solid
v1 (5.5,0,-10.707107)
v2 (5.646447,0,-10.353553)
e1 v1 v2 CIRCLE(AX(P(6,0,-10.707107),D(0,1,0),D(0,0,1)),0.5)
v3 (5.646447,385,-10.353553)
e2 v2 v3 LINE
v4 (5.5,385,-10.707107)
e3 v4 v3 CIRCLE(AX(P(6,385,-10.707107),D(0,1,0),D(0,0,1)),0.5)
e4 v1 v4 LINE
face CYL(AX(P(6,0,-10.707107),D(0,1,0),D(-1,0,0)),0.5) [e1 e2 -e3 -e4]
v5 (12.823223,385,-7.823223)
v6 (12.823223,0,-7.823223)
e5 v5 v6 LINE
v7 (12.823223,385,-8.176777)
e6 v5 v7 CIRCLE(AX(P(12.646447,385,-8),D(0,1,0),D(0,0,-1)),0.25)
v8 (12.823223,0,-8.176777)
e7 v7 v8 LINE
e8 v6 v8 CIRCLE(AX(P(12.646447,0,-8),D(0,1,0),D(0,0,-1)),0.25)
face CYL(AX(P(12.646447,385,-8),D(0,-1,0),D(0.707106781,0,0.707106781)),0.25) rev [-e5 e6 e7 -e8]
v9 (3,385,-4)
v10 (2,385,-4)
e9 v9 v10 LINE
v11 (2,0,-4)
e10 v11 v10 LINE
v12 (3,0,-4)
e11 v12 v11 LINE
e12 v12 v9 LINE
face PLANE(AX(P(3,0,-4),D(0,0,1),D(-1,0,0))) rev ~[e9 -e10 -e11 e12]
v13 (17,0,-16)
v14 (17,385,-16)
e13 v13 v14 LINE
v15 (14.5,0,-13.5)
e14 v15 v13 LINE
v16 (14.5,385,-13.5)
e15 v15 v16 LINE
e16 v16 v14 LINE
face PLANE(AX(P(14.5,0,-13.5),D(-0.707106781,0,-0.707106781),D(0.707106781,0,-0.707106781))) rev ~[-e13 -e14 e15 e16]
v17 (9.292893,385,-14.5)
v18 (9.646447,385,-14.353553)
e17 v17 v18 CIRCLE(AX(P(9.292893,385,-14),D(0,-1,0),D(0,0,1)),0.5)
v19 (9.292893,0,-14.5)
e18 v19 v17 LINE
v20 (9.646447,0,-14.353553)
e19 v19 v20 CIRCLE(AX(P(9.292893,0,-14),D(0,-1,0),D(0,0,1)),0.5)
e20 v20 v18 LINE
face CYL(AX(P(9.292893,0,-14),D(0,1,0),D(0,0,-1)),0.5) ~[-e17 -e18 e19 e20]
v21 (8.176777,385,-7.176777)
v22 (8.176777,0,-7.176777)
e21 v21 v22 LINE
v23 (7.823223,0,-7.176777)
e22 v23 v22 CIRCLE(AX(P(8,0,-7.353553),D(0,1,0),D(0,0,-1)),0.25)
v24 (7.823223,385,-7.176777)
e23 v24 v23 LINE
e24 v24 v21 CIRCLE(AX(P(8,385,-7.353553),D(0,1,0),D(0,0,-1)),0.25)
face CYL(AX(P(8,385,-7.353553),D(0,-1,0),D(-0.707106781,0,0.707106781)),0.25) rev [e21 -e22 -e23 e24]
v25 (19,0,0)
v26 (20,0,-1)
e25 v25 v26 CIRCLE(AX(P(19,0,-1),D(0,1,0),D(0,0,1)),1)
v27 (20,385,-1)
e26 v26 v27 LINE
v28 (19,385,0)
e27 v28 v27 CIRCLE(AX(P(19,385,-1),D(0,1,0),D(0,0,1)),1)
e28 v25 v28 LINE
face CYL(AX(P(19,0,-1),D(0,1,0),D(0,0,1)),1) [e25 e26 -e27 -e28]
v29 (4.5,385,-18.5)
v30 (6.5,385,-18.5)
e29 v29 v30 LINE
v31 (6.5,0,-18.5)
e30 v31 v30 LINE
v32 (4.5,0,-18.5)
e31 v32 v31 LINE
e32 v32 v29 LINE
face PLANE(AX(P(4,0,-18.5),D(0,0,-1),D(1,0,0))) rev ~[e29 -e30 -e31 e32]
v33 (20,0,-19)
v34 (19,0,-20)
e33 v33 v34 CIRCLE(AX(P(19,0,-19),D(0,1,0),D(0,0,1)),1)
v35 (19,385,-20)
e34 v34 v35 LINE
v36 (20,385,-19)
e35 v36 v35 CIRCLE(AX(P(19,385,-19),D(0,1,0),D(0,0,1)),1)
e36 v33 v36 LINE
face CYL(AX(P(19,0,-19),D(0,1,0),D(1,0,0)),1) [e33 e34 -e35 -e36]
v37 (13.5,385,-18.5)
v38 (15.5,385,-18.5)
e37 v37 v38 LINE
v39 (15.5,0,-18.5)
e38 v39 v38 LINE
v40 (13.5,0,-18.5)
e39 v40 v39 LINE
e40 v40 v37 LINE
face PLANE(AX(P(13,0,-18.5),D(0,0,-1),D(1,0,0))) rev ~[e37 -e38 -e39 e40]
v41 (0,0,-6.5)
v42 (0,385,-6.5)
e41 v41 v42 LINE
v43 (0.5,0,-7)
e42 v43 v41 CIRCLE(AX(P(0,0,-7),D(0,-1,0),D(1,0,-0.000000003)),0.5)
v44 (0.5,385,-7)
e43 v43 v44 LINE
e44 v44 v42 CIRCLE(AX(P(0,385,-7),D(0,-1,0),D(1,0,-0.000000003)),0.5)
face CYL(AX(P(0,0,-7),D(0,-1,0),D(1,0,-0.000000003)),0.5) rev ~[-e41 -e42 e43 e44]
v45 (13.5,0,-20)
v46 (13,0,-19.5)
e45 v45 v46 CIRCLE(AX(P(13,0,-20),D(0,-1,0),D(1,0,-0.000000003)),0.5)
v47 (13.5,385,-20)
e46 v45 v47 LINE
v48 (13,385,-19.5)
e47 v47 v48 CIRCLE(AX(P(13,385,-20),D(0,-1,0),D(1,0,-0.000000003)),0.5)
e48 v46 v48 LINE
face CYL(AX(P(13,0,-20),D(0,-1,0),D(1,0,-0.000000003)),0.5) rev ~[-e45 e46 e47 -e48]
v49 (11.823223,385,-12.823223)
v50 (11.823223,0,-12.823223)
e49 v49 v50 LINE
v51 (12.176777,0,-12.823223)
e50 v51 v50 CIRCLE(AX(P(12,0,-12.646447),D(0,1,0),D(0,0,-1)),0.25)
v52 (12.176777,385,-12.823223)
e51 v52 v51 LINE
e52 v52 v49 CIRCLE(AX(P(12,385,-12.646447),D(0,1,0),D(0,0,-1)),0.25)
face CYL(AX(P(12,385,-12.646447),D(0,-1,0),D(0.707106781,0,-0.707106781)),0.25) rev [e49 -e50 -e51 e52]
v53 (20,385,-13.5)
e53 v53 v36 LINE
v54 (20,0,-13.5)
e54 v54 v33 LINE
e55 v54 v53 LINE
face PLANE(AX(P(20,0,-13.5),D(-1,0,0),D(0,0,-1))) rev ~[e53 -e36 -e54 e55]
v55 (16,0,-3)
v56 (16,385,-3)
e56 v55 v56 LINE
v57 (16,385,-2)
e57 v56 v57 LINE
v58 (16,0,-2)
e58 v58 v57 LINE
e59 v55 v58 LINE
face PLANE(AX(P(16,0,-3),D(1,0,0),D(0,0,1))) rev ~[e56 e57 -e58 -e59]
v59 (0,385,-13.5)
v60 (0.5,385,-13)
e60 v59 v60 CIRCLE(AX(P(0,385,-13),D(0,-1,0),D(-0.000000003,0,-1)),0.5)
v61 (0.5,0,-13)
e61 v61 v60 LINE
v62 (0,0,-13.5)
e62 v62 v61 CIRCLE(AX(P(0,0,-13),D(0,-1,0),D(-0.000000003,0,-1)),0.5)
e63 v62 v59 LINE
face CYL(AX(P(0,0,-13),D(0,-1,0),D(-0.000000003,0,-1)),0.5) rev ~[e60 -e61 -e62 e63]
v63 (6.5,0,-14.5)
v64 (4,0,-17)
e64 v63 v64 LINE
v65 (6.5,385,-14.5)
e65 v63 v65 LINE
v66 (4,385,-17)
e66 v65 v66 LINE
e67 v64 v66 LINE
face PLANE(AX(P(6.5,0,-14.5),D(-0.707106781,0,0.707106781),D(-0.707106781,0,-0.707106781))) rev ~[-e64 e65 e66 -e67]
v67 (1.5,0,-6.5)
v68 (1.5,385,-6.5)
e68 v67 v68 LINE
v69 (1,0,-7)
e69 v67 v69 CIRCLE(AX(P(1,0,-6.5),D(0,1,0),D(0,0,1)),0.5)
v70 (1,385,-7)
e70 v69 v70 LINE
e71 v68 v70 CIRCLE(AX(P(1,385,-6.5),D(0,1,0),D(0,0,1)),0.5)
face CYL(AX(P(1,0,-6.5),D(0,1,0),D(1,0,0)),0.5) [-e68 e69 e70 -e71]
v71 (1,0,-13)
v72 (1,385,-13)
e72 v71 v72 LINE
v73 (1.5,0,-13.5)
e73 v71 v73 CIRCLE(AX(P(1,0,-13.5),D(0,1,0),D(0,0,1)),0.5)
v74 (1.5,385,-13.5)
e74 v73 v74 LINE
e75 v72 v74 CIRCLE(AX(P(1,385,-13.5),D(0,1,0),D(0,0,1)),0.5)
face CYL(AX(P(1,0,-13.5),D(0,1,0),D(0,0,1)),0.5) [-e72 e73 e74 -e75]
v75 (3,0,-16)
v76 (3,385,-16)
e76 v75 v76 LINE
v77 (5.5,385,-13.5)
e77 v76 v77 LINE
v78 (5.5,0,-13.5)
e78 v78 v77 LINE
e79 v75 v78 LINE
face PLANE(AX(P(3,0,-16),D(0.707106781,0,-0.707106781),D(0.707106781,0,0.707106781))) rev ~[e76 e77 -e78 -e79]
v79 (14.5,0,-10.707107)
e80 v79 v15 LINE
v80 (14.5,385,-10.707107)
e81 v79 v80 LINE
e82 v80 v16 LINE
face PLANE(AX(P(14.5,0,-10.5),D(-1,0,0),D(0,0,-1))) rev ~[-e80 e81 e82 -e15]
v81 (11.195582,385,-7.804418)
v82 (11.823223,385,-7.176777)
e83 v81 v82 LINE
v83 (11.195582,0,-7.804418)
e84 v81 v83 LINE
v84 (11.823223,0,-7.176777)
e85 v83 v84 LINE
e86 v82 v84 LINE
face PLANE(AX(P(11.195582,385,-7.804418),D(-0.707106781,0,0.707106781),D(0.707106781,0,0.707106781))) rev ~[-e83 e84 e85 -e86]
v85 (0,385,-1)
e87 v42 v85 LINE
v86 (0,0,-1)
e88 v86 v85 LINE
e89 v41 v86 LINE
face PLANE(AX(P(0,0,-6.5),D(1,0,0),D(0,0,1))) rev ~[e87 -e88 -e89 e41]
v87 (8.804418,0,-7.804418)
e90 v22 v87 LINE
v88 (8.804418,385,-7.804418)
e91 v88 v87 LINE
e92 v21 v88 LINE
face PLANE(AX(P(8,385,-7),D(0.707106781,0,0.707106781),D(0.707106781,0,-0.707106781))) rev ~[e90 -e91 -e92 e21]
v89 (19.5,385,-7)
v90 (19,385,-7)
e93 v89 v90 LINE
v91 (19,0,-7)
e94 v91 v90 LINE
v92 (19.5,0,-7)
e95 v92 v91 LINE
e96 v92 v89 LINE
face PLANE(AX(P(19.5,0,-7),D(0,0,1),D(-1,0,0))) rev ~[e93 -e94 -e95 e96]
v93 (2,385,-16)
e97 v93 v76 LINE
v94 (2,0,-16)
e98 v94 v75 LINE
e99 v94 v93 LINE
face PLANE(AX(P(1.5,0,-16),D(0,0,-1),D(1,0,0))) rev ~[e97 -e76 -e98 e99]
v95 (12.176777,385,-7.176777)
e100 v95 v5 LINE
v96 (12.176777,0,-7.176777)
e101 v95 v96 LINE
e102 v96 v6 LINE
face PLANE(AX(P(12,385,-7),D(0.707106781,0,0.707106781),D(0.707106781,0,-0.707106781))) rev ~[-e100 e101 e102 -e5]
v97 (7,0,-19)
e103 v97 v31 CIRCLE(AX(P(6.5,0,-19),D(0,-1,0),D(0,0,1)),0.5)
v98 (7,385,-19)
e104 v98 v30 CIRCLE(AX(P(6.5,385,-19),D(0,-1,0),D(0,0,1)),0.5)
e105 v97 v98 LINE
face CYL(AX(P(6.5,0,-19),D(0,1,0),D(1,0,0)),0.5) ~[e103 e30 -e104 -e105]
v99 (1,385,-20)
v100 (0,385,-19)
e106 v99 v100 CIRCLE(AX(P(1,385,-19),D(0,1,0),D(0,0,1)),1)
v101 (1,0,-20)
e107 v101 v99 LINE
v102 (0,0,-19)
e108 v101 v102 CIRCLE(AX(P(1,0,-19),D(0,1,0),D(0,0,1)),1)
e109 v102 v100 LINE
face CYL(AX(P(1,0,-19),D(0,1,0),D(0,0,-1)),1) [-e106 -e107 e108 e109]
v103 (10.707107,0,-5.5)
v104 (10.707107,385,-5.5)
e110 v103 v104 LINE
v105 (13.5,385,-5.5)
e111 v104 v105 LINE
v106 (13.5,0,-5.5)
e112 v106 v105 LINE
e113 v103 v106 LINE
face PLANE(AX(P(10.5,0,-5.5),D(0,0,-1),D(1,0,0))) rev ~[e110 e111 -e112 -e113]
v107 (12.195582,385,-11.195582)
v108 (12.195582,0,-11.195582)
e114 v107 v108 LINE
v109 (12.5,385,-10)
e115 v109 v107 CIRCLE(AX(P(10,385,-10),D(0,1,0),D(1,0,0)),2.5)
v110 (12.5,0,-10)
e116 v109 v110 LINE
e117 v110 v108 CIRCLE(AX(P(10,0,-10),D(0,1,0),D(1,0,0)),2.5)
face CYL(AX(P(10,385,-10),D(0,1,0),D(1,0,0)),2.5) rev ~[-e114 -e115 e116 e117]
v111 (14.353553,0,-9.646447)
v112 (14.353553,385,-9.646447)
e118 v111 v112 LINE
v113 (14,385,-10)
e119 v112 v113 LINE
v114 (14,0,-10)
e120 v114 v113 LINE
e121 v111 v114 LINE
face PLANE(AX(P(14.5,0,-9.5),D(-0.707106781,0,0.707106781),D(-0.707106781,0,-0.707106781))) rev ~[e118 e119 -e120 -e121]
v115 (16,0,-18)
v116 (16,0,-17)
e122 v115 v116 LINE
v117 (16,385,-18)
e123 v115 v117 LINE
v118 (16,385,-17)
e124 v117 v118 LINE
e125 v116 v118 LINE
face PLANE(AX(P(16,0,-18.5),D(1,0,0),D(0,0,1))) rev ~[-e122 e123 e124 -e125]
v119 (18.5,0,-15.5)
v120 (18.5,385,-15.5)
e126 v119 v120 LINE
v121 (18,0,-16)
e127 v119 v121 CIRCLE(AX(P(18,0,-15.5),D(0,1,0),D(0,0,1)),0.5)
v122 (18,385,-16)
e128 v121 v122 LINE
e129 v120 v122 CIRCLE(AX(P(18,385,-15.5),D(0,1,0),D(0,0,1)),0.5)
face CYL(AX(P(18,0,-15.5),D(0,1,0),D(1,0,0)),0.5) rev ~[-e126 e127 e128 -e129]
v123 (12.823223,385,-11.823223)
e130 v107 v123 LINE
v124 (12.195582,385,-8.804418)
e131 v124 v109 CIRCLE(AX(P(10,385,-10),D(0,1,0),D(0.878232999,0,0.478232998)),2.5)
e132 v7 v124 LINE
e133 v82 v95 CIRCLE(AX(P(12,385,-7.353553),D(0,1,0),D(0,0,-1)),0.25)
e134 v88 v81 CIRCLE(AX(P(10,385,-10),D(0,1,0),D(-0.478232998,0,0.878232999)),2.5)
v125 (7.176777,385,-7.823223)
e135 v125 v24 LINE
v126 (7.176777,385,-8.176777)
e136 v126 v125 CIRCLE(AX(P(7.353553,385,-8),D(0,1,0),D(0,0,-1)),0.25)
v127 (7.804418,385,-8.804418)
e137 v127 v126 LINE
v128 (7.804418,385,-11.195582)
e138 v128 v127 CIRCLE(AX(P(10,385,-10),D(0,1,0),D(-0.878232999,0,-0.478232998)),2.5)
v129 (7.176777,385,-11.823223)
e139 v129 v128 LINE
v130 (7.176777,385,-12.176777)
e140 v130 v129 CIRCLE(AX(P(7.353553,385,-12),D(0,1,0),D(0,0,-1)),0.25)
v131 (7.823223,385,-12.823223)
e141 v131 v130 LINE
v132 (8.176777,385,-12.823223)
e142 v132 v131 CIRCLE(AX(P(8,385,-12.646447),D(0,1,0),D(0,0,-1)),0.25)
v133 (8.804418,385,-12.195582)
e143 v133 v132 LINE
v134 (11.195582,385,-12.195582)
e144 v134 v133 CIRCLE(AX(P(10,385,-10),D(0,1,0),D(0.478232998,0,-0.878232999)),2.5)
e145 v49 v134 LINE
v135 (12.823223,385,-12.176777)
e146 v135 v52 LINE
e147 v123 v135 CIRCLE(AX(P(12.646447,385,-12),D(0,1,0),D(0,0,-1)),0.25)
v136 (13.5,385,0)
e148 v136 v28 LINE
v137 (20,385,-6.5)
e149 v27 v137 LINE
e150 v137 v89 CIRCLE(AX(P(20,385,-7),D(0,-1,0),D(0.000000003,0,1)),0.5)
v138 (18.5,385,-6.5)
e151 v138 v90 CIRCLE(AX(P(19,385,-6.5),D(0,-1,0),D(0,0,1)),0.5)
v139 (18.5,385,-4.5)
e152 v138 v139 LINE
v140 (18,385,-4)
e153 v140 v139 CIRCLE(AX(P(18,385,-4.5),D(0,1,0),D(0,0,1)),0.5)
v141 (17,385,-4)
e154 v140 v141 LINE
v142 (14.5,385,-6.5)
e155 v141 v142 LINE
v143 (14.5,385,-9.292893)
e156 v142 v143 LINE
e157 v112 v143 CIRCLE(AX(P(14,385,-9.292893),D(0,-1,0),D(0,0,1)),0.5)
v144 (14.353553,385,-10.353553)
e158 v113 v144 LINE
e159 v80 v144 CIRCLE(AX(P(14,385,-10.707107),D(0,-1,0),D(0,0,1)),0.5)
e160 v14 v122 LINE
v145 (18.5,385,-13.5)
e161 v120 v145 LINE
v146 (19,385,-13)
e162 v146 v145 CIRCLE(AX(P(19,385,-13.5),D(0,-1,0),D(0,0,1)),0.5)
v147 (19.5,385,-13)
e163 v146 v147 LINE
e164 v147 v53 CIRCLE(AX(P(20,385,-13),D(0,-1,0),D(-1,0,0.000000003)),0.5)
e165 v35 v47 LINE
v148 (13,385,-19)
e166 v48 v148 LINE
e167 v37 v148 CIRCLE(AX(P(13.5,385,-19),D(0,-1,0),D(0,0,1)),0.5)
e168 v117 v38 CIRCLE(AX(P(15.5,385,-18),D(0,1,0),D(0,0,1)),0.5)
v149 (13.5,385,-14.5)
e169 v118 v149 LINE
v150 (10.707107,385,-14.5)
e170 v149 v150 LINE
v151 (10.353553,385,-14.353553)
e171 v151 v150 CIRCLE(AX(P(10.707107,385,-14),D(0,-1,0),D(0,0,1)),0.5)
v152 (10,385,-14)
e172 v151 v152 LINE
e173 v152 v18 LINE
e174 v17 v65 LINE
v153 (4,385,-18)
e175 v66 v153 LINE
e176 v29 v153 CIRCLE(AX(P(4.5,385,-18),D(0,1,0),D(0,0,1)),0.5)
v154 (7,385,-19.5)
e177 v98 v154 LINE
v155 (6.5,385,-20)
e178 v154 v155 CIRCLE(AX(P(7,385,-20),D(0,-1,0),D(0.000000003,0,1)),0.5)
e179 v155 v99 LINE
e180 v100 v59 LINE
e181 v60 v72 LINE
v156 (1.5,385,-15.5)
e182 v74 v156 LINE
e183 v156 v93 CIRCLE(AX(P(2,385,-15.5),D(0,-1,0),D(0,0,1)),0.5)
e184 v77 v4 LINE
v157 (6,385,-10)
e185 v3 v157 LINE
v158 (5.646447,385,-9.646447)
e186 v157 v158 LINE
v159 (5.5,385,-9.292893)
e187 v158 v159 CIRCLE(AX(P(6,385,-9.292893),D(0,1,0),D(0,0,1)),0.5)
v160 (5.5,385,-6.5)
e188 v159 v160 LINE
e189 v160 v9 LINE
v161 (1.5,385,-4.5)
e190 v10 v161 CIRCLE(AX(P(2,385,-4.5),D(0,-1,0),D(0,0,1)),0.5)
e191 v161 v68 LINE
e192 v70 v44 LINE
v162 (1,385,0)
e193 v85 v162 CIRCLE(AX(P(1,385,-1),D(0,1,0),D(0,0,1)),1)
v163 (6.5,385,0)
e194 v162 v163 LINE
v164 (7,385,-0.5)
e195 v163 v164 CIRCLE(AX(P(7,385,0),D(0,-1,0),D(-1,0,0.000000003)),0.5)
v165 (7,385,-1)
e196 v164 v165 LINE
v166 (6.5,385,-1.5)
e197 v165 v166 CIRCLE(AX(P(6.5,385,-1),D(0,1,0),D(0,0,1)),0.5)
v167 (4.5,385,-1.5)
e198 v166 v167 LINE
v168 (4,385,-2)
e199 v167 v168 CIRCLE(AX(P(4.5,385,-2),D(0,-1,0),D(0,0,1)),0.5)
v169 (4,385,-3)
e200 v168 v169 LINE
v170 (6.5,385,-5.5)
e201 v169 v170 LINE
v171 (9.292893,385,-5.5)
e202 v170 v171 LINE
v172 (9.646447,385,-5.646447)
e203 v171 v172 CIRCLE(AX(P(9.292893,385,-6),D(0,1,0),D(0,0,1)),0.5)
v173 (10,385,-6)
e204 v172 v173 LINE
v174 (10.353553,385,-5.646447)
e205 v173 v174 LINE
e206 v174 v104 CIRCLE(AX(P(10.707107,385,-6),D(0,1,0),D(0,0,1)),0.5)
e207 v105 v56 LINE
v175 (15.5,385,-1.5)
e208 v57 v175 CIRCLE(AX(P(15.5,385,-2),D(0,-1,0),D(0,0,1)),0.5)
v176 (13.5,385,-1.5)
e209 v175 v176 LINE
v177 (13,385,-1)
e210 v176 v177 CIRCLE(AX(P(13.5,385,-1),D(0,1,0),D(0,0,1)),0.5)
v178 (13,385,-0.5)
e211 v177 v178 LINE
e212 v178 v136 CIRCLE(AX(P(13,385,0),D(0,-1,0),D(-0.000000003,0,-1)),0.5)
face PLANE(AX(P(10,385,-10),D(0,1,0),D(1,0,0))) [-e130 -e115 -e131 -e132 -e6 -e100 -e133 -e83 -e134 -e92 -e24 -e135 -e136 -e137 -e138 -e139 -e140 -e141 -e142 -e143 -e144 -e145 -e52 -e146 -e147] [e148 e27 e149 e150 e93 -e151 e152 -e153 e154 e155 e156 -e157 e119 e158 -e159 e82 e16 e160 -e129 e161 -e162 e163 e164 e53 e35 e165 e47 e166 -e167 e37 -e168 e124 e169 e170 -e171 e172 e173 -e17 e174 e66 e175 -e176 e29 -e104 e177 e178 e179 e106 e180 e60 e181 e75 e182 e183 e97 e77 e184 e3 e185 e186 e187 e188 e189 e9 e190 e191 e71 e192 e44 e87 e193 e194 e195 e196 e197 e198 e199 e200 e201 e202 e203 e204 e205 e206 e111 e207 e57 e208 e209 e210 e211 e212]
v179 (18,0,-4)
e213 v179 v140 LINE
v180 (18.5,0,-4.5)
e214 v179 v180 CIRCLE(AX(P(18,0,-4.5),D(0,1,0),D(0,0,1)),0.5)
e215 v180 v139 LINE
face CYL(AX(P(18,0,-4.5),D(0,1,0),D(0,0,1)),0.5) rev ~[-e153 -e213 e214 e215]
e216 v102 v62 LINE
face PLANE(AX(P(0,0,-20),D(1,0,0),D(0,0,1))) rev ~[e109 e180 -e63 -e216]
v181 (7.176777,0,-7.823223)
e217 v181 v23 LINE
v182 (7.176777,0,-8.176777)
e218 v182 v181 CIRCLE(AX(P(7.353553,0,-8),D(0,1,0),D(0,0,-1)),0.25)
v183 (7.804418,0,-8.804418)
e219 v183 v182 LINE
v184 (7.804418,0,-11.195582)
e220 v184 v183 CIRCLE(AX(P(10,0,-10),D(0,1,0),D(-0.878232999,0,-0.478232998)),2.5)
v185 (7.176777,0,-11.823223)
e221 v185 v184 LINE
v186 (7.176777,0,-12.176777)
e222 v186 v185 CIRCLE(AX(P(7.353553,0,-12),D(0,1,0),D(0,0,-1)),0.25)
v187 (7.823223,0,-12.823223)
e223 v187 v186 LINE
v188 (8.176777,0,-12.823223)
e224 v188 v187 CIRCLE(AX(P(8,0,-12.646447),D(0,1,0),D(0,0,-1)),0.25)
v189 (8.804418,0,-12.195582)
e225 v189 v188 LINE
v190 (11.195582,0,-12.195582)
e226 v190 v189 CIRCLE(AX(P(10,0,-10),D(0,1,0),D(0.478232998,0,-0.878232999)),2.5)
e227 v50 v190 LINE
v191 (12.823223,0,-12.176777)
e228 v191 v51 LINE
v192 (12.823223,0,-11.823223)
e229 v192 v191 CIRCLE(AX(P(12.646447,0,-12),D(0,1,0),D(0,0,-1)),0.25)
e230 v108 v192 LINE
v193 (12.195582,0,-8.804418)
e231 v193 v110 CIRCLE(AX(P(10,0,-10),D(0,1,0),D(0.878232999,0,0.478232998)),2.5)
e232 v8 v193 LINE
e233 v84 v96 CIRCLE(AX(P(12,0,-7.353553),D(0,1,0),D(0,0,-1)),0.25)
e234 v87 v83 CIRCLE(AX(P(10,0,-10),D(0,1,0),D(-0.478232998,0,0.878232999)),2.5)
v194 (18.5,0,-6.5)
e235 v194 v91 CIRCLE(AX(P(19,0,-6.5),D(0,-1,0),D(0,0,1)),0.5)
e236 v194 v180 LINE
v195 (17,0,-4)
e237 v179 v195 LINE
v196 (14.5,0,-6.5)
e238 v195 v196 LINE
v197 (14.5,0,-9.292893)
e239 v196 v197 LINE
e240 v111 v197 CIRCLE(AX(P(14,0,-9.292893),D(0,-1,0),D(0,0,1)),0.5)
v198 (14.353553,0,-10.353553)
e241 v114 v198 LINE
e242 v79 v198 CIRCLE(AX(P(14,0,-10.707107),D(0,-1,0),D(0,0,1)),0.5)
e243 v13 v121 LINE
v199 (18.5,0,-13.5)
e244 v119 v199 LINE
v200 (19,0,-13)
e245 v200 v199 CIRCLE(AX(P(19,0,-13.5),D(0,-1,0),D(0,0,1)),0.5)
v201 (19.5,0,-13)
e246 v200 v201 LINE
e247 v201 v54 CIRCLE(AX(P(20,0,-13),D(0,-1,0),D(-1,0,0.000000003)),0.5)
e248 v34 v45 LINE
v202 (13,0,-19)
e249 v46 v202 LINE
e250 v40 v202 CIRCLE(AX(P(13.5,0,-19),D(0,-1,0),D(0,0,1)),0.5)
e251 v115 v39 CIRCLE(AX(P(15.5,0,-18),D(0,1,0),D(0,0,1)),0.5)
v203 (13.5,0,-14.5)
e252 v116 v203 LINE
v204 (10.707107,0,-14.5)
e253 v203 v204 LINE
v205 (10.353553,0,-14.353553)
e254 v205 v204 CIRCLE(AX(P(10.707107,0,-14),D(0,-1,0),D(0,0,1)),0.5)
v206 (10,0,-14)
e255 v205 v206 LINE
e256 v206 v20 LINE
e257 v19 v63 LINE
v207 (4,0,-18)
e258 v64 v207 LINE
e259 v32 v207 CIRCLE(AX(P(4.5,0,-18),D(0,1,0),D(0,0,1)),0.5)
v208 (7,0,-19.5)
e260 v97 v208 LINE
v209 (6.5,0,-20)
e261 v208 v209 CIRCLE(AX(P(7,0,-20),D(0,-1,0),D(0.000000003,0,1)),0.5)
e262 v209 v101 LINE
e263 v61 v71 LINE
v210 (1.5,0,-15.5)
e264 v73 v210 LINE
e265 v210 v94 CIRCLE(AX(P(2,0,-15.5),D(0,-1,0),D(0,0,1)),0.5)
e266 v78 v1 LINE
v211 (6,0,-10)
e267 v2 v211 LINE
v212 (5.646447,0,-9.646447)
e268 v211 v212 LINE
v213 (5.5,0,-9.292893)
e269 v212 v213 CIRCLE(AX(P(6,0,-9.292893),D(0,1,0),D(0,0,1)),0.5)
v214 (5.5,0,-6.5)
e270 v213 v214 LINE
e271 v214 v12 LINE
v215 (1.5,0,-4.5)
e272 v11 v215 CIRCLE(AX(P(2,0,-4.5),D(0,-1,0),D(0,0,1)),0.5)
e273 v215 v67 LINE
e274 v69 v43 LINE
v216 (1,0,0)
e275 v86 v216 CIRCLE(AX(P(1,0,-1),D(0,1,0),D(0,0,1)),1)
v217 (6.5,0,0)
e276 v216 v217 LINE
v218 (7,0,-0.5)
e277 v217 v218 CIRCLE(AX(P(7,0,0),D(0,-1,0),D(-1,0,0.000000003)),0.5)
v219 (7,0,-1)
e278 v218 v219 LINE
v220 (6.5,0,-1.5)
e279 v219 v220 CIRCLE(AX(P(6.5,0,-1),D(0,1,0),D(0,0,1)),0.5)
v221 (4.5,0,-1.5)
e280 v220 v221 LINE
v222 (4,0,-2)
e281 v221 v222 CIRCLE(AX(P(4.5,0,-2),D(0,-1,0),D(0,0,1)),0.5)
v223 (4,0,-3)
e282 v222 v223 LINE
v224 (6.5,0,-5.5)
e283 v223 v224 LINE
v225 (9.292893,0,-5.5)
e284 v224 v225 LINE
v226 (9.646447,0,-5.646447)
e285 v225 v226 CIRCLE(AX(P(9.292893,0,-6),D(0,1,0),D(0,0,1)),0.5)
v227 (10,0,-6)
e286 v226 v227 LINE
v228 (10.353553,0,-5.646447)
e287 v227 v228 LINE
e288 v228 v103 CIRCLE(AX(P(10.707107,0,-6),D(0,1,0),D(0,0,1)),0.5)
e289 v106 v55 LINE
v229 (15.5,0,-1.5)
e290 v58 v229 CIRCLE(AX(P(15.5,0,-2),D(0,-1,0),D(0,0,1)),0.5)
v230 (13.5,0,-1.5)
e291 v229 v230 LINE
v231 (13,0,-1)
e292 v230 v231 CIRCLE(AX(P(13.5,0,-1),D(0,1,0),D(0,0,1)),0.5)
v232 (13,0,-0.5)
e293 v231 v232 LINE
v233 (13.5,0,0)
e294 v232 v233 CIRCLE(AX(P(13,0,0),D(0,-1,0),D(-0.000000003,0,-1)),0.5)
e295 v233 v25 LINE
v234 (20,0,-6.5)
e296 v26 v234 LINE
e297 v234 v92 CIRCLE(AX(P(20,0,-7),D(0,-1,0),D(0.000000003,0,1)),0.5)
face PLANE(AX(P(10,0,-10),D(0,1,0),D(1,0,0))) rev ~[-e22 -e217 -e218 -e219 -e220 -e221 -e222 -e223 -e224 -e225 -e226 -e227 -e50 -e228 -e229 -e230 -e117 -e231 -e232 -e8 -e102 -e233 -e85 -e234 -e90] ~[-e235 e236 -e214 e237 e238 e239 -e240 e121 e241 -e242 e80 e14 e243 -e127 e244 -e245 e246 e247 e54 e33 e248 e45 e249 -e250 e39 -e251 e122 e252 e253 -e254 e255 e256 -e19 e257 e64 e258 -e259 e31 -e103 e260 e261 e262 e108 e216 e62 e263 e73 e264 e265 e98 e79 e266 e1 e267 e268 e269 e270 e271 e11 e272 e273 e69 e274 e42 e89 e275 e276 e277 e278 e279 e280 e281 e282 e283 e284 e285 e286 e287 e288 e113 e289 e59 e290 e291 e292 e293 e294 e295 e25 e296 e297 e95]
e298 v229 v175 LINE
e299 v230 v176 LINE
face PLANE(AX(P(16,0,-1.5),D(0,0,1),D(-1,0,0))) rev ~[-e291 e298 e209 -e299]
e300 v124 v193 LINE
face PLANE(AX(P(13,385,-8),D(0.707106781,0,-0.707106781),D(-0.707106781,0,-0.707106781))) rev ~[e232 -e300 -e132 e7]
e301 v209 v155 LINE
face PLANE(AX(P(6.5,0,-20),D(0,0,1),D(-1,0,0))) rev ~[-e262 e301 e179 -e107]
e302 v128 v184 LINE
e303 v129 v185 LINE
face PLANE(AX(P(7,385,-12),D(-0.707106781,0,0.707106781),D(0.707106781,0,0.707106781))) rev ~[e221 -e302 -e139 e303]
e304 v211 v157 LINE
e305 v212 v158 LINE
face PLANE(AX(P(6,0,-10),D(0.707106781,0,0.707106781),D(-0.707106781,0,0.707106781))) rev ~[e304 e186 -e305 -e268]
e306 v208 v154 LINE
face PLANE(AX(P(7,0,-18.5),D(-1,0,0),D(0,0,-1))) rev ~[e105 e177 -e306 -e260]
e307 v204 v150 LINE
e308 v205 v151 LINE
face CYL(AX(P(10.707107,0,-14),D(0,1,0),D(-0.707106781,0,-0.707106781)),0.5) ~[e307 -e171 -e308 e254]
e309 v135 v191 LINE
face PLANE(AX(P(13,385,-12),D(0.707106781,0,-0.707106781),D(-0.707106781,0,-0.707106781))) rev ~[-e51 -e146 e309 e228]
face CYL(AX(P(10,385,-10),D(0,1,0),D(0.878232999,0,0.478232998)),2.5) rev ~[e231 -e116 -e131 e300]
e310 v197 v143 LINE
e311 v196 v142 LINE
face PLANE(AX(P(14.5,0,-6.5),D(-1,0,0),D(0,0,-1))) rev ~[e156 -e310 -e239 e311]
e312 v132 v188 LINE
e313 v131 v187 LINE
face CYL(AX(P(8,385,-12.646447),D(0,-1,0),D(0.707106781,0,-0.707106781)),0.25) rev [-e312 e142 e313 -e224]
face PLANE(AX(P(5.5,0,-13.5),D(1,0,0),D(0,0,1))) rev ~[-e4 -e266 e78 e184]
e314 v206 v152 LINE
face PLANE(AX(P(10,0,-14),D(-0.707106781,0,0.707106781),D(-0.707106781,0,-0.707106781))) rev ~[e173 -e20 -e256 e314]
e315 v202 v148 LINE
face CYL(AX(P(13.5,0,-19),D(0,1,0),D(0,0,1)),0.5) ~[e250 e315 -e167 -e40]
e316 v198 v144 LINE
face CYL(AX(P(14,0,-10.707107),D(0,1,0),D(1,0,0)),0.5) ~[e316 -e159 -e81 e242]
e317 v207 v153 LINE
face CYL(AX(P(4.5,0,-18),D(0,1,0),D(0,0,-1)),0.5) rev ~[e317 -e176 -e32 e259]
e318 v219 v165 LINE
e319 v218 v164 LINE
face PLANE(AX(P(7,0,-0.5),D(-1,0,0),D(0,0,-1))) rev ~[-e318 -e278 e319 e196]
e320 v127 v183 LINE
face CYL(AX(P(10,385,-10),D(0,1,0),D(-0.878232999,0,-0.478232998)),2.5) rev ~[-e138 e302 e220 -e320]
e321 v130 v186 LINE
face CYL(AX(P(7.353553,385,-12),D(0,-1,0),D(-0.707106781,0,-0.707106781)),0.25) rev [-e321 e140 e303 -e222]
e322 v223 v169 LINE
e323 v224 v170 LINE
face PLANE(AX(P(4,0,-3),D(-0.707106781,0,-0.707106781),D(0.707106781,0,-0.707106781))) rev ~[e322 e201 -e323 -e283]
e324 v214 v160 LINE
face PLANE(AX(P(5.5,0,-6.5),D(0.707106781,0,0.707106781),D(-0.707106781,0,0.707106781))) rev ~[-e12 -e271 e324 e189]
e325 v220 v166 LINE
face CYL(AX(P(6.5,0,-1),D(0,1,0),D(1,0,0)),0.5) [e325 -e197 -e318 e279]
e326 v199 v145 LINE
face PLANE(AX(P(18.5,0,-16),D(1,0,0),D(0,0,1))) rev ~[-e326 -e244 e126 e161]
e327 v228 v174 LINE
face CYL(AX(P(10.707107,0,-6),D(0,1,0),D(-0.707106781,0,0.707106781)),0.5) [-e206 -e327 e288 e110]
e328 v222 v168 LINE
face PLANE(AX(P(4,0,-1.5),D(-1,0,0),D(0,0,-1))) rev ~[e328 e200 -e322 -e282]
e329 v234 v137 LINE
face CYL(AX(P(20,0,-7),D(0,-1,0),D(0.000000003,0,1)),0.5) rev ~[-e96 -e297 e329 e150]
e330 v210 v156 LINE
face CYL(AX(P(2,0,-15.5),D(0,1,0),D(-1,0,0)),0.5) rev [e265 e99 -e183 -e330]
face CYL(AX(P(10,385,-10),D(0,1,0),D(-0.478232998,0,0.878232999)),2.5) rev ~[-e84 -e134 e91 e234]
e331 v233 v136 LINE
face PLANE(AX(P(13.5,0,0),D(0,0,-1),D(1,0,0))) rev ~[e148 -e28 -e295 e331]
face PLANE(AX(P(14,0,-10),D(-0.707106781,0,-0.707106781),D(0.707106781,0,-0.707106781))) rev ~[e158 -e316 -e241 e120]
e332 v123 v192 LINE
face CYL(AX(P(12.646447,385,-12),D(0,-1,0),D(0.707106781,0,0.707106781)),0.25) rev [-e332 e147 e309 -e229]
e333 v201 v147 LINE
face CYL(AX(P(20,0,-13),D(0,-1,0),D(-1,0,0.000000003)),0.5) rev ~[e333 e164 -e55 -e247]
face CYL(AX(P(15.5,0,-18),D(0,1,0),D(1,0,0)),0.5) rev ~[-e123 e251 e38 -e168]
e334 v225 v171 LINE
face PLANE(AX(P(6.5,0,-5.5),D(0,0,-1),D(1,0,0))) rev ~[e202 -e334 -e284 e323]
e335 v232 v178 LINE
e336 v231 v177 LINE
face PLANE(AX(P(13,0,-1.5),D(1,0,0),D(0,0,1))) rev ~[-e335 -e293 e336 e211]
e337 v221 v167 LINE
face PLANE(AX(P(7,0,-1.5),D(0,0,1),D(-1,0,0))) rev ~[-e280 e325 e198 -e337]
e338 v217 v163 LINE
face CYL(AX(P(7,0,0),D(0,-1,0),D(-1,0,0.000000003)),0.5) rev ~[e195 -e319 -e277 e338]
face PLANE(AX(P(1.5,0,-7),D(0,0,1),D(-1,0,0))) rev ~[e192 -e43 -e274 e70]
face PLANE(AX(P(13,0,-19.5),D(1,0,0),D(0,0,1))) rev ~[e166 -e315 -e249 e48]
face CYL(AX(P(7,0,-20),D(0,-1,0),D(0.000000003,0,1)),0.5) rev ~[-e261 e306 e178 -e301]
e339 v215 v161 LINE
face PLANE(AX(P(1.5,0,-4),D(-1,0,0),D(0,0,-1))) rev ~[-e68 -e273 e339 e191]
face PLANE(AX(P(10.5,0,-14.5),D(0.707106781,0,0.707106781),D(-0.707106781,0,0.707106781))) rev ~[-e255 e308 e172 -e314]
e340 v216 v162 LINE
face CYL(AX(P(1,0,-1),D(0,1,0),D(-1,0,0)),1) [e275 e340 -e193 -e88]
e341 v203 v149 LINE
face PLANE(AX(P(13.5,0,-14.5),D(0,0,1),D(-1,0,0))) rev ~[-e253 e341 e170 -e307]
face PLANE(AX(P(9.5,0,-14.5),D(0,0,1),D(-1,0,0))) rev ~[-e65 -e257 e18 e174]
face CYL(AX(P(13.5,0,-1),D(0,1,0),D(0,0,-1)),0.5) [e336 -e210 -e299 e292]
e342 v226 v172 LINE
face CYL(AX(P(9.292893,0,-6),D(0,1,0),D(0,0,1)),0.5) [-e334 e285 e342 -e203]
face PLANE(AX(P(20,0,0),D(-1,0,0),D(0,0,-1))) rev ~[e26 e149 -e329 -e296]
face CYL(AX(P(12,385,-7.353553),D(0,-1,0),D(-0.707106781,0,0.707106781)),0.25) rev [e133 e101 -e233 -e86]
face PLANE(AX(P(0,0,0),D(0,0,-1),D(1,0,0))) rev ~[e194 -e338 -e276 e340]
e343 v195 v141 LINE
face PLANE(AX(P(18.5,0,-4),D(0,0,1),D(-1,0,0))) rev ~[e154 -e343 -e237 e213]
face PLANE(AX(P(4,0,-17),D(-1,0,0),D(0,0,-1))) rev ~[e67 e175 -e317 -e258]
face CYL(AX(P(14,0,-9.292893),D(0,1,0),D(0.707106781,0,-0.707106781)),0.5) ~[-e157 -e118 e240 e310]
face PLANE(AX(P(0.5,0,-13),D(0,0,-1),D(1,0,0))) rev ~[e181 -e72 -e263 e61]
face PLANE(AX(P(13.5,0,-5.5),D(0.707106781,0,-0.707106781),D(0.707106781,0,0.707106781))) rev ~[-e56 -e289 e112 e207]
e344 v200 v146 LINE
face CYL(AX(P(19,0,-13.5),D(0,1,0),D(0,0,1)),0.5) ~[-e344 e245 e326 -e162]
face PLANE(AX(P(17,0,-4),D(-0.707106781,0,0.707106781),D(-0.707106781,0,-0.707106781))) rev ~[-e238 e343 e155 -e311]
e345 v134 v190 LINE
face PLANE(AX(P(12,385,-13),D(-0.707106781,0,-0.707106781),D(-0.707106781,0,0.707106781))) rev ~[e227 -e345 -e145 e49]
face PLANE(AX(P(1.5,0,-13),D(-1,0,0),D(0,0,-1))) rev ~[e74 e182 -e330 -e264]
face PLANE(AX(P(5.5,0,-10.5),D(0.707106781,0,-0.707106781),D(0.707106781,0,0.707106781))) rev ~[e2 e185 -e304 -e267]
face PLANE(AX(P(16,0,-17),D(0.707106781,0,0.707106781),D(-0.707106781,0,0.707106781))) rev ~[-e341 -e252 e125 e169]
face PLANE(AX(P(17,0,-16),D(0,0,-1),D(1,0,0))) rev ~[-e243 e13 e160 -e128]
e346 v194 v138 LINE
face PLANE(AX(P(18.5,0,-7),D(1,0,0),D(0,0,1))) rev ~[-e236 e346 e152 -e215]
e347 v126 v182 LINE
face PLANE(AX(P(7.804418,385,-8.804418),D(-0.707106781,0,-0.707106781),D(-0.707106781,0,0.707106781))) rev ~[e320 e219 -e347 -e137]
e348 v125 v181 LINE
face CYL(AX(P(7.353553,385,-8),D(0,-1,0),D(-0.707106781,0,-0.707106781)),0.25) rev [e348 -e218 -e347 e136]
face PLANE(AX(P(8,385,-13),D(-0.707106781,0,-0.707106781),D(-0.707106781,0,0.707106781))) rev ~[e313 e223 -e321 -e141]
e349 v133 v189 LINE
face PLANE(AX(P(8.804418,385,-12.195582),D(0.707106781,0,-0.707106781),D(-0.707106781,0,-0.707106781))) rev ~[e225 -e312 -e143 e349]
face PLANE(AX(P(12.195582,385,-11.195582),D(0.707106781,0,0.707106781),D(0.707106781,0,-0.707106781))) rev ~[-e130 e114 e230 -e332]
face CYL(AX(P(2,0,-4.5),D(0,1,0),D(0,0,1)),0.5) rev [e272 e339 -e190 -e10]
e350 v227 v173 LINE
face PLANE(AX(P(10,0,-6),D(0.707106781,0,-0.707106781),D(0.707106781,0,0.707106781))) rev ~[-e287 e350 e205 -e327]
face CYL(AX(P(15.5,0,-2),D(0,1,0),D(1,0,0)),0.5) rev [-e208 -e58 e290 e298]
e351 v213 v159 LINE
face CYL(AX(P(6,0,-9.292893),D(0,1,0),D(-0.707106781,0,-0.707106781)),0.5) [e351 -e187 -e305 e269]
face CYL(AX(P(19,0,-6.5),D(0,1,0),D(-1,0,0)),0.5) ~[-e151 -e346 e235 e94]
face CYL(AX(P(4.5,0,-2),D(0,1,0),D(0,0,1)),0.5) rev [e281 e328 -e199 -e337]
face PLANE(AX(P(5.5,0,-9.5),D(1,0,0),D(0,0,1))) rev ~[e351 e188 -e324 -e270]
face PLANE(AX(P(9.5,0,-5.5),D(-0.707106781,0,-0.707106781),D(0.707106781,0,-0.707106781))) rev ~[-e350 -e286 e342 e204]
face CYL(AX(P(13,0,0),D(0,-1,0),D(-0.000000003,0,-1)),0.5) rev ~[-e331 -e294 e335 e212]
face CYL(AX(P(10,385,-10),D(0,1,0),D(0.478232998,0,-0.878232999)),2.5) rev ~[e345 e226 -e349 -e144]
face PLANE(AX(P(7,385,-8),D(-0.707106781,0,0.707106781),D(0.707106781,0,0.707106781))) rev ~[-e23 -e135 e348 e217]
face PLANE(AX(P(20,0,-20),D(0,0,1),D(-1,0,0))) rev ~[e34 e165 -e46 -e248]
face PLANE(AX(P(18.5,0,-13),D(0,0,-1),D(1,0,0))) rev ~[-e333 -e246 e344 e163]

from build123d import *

# Parameters (mm, degrees)
BOSS_EXTRUDE1_DEPTH = 385
FILLET1_R           = 1
CUT_EXTRUDE1_DEPTH  = 386
FILLET2_R           = 0.5
FILLET3_R           = 0.25


with BuildPart() as part:
    # Sketch3 → Boss-Extrude1 (new body)
    with BuildSketch(Plane(origin=(0, 0, 0), x_dir=(1, 0, 0), z_dir=(0, 1, 0))):
        with BuildLine():
            Line((7, 18.5), (7, 19.5))
            ThreePointArc((7, 19.5), (6.646446609, 19.646446609), (6.5, 20))
            Line((6.5, 20), (0, 20))
            Line((0, 20), (0, 13.5))
            ThreePointArc((0, 13.5), (0.353553391, 13.353553391), (0.5, 13))
            Line((0.5, 13), (1.5, 13))
            Line((1.5, 13), (1.5, 16))
            Line((1.5, 16), (3, 16))
            Line((3, 16), (5.5, 13.5))
            Line((5.5, 13.5), (5.5, 10.5))
            Line((5.5, 10.5), (6, 10))
            Line((6, 10), (5.5, 9.5))
            Line((5.5, 9.5), (5.5, 6.5))
            Line((5.5, 6.5), (3, 4))
            Line((3, 4), (1.5, 4))
            Line((1.5, 4), (1.5, 7))
            Line((1.5, 7), (0.5, 7))
            ThreePointArc((0.5, 7), (0.353553391, 6.646446609), (0, 6.5))
            Line((0, 6.5), (0, 0))
            Line((0, 0), (6.5, 0))
            ThreePointArc((6.5, 0), (6.646446609, 0.353553391), (7, 0.5))
            Line((7, 0.5), (7, 1.5))
            Line((7, 1.5), (4, 1.5))
            Line((4, 1.5), (4, 3))
            Line((4, 3), (6.5, 5.5))
            Line((6.5, 5.5), (9.5, 5.5))
            Line((9.5, 5.5), (10, 6))
            Line((10, 6), (10.5, 5.5))
            Line((10.5, 5.5), (13.5, 5.5))
            Line((13.5, 5.5), (16, 3))
            Line((16, 3), (16, 1.5))
            Line((16, 1.5), (13, 1.5))
            Line((13, 1.5), (13, 0.5))
            ThreePointArc((13, 0.5), (13.353553391, 0.353553391), (13.5, 0))
            Line((13.5, 0), (20, 0))
            Line((20, 0), (20, 6.5))
            ThreePointArc((20, 6.5), (19.646446609, 6.646446609), (19.5, 7))
            Line((19.5, 7), (18.5, 7))
            Line((18.5, 7), (18.5, 4))
            Line((18.5, 4), (17, 4))
            Line((17, 4), (14.5, 6.5))
            Line((14.5, 6.5), (14.5, 9.5))
            Line((14.5, 9.5), (14, 10))
            Line((14, 10), (14.5, 10.5))
            Line((14.5, 10.5), (14.5, 13.5))
            Line((14.5, 13.5), (17, 16))
            Line((17, 16), (18.5, 16))
            Line((18.5, 16), (18.5, 13))
            Line((18.5, 13), (19.5, 13))
            ThreePointArc((19.5, 13), (19.646446609, 13.353553391), (20, 13.5))
            Line((20, 13.5), (20, 20))
            Line((20, 20), (13.5, 20))
            ThreePointArc((13.5, 20), (13.353553391, 19.646446609), (13, 19.5))
            Line((13, 19.5), (13, 18.5))
            Line((13, 18.5), (16, 18.5))
            Line((16, 18.5), (16, 17))
            Line((16, 17), (13.5, 14.5))
            Line((13.5, 14.5), (10.5, 14.5))
            Line((10.5, 14.5), (10, 14))
            Line((10, 14), (9.5, 14.5))
            Line((9.5, 14.5), (6.5, 14.5))
            Line((6.5, 14.5), (4, 17))
            Line((4, 17), (4, 18.5))
            Line((4, 18.5), (7, 18.5))
        make_face()
    extrude(amount=BOSS_EXTRUDE1_DEPTH)

    # Fillet1
    fillet1_edges = [part.edges().sort_by_distance(p)[0] for p in [
        (20, 192.5, 0),
        (0, 192.5, 0),
        (0, 192.5, -20),
        (20, 192.5, -20),
    ]]
    fillet(fillet1_edges, radius=FILLET1_R)

    # Sketch4 → Cut-Extrude1 (cut, through all)
    with BuildSketch(Plane(origin=(0, 385, 0), x_dir=(1, 0, 0), z_dir=(0, 1, 0))):
        with BuildLine():
            Line((10, 11), (11.195582496, 12.195582496))
            ThreePointArc((11.195582496, 12.195582496), (10, 12.5), (8.804417504, 12.195582496))
            Line((8.804417504, 12.195582496), (10, 11))
        make_face()
        with BuildLine():
            ThreePointArc((12.195582496, 11.195582496), (11.767766953, 11.767766953), (11.195582496, 12.195582496))
            Line((11.195582496, 12.195582496), (10, 11))
            Line((10, 11), (11, 10))
            Line((11, 10), (12.195582496, 11.195582496))
        make_face()
        with BuildLine():
            Line((9, 10), (10, 11))
            Line((10, 11), (8.804417504, 12.195582496))
            ThreePointArc((8.804417504, 12.195582496), (8.232233047, 11.767766953), (7.804417504, 11.195582496))
            Line((7.804417504, 11.195582496), (9, 10))
        make_face()
        Polygon((11, 10), (10, 11), (9, 10), (10, 9), align=None)
        with BuildLine():
            Line((7.804417504, 8.804417504), (9, 10))
            Line((9, 10), (7.804417504, 11.195582496))
            ThreePointArc((7.804417504, 11.195582496), (7.5, 10), (7.804417504, 8.804417504))
        make_face()
        with BuildLine():
            Line((10, 9), (9, 10))
            Line((9, 10), (7.804417504, 8.804417504))
            ThreePointArc((7.804417504, 8.804417504), (8.232233047, 8.232233047), (8.804417504, 7.804417504))
            Line((8.804417504, 7.804417504), (10, 9))
        make_face()
        with BuildLine():
            Line((11.195582496, 7.804417504), (10, 9))
            Line((10, 9), (8.804417504, 7.804417504))
            ThreePointArc((8.804417504, 7.804417504), (10, 7.5), (11.195582496, 7.804417504))
        make_face()
        with BuildLine():
            Line((12.195582496, 8.804417504), (11, 10))
            Line((11, 10), (10, 9))
            Line((10, 9), (11.195582496, 7.804417504))
            ThreePointArc((11.195582496, 7.804417504), (11.767766953, 8.232233047), (12.195582496, 8.804417504))
        make_face()
        with BuildLine():
            ThreePointArc((12.5, 10), (12.422700584, 10.616864556), (12.195582496, 11.195582496))
            Line((12.195582496, 11.195582496), (11, 10))
            Line((11, 10), (12.195582496, 8.804417504))
            ThreePointArc((12.195582496, 8.804417504), (12.422700584, 9.383135444), (12.5, 10))
        make_face()
        with BuildLine():
            ThreePointArc((8.804417504, 7.804417504), (8.232233047, 8.232233047), (7.804417504, 8.804417504))
            Line((7.804417504, 8.804417504), (7, 8))
            Line((7, 8), (8, 7))
            Line((8, 7), (8.804417504, 7.804417504))
        make_face()
        with BuildLine():
            Line((13, 8), (12.195582496, 8.804417504))
            ThreePointArc((12.195582496, 8.804417504), (11.767766953, 8.232233047), (11.195582496, 7.804417504))
            Line((11.195582496, 7.804417504), (12, 7))
            Line((12, 7), (13, 8))
        make_face()
        with BuildLine():
            Line((13, 12), (12, 13))
            Line((12, 13), (11.195582496, 12.195582496))
            ThreePointArc((11.195582496, 12.195582496), (11.767766953, 11.767766953), (12.195582496, 11.195582496))
            Line((12.195582496, 11.195582496), (13, 12))
        make_face()
        with BuildLine():
            ThreePointArc((7.804417504, 11.195582496), (8.232233047, 11.767766953), (8.804417504, 12.195582496))
            Line((8.804417504, 12.195582496), (8, 13))
            Line((8, 13), (7, 12))
            Line((7, 12), (7.804417504, 11.195582496))
        make_face()
    extrude(amount=-CUT_EXTRUDE1_DEPTH, mode=Mode.SUBTRACT)

    # Fillet2
    fillet2_edges = [part.edges().sort_by_distance(p)[0] for p in [
        (18.5, 192.5, -13),
        (18.5, 192.5, -16),
        (14.5, 192.5, -10.5),
        (14.5, 192.5, -9.5),
        (18.5, 192.5, -4),
        (18.5, 192.5, -7),
        (13, 192.5, -1.5),
        (16, 192.5, -1.5),
        (10.5, 192.5, -5.5),
        (9.5, 192.5, -5.5),
        (4, 192.5, -1.5),
        (7, 192.5, -1.5),
        (1.5, 192.5, -7),
        (1.5, 192.5, -4),
        (5.5, 192.5, -9.5),
        (5.5, 192.5, -10.5),
        (1.5, 192.5, -16),
        (1.5, 192.5, -13),
        (7, 192.5, -18.5),
        (4, 192.5, -18.5),
        (9.5, 192.5, -14.5),
        (10.5, 192.5, -14.5),
        (16, 192.5, -18.5),
        (13, 192.5, -18.5),
    ]]
    fillet(fillet2_edges, radius=FILLET2_R)

    # Fillet3
    fillet3_edges = [part.edges().sort_by_distance(p)[0] for p in [
        (7, 192.5, -12),
        (8, 192.5, -13),
        (12, 192.5, -13),
        (13, 192.5, -12),
        (13, 192.5, -8),
        (12, 192.5, -7),
        (8, 192.5, -7),
        (7, 192.5, -8),
    ]]
    fillet(fillet3_edges, radius=FILLET3_R)


solid = part.part
